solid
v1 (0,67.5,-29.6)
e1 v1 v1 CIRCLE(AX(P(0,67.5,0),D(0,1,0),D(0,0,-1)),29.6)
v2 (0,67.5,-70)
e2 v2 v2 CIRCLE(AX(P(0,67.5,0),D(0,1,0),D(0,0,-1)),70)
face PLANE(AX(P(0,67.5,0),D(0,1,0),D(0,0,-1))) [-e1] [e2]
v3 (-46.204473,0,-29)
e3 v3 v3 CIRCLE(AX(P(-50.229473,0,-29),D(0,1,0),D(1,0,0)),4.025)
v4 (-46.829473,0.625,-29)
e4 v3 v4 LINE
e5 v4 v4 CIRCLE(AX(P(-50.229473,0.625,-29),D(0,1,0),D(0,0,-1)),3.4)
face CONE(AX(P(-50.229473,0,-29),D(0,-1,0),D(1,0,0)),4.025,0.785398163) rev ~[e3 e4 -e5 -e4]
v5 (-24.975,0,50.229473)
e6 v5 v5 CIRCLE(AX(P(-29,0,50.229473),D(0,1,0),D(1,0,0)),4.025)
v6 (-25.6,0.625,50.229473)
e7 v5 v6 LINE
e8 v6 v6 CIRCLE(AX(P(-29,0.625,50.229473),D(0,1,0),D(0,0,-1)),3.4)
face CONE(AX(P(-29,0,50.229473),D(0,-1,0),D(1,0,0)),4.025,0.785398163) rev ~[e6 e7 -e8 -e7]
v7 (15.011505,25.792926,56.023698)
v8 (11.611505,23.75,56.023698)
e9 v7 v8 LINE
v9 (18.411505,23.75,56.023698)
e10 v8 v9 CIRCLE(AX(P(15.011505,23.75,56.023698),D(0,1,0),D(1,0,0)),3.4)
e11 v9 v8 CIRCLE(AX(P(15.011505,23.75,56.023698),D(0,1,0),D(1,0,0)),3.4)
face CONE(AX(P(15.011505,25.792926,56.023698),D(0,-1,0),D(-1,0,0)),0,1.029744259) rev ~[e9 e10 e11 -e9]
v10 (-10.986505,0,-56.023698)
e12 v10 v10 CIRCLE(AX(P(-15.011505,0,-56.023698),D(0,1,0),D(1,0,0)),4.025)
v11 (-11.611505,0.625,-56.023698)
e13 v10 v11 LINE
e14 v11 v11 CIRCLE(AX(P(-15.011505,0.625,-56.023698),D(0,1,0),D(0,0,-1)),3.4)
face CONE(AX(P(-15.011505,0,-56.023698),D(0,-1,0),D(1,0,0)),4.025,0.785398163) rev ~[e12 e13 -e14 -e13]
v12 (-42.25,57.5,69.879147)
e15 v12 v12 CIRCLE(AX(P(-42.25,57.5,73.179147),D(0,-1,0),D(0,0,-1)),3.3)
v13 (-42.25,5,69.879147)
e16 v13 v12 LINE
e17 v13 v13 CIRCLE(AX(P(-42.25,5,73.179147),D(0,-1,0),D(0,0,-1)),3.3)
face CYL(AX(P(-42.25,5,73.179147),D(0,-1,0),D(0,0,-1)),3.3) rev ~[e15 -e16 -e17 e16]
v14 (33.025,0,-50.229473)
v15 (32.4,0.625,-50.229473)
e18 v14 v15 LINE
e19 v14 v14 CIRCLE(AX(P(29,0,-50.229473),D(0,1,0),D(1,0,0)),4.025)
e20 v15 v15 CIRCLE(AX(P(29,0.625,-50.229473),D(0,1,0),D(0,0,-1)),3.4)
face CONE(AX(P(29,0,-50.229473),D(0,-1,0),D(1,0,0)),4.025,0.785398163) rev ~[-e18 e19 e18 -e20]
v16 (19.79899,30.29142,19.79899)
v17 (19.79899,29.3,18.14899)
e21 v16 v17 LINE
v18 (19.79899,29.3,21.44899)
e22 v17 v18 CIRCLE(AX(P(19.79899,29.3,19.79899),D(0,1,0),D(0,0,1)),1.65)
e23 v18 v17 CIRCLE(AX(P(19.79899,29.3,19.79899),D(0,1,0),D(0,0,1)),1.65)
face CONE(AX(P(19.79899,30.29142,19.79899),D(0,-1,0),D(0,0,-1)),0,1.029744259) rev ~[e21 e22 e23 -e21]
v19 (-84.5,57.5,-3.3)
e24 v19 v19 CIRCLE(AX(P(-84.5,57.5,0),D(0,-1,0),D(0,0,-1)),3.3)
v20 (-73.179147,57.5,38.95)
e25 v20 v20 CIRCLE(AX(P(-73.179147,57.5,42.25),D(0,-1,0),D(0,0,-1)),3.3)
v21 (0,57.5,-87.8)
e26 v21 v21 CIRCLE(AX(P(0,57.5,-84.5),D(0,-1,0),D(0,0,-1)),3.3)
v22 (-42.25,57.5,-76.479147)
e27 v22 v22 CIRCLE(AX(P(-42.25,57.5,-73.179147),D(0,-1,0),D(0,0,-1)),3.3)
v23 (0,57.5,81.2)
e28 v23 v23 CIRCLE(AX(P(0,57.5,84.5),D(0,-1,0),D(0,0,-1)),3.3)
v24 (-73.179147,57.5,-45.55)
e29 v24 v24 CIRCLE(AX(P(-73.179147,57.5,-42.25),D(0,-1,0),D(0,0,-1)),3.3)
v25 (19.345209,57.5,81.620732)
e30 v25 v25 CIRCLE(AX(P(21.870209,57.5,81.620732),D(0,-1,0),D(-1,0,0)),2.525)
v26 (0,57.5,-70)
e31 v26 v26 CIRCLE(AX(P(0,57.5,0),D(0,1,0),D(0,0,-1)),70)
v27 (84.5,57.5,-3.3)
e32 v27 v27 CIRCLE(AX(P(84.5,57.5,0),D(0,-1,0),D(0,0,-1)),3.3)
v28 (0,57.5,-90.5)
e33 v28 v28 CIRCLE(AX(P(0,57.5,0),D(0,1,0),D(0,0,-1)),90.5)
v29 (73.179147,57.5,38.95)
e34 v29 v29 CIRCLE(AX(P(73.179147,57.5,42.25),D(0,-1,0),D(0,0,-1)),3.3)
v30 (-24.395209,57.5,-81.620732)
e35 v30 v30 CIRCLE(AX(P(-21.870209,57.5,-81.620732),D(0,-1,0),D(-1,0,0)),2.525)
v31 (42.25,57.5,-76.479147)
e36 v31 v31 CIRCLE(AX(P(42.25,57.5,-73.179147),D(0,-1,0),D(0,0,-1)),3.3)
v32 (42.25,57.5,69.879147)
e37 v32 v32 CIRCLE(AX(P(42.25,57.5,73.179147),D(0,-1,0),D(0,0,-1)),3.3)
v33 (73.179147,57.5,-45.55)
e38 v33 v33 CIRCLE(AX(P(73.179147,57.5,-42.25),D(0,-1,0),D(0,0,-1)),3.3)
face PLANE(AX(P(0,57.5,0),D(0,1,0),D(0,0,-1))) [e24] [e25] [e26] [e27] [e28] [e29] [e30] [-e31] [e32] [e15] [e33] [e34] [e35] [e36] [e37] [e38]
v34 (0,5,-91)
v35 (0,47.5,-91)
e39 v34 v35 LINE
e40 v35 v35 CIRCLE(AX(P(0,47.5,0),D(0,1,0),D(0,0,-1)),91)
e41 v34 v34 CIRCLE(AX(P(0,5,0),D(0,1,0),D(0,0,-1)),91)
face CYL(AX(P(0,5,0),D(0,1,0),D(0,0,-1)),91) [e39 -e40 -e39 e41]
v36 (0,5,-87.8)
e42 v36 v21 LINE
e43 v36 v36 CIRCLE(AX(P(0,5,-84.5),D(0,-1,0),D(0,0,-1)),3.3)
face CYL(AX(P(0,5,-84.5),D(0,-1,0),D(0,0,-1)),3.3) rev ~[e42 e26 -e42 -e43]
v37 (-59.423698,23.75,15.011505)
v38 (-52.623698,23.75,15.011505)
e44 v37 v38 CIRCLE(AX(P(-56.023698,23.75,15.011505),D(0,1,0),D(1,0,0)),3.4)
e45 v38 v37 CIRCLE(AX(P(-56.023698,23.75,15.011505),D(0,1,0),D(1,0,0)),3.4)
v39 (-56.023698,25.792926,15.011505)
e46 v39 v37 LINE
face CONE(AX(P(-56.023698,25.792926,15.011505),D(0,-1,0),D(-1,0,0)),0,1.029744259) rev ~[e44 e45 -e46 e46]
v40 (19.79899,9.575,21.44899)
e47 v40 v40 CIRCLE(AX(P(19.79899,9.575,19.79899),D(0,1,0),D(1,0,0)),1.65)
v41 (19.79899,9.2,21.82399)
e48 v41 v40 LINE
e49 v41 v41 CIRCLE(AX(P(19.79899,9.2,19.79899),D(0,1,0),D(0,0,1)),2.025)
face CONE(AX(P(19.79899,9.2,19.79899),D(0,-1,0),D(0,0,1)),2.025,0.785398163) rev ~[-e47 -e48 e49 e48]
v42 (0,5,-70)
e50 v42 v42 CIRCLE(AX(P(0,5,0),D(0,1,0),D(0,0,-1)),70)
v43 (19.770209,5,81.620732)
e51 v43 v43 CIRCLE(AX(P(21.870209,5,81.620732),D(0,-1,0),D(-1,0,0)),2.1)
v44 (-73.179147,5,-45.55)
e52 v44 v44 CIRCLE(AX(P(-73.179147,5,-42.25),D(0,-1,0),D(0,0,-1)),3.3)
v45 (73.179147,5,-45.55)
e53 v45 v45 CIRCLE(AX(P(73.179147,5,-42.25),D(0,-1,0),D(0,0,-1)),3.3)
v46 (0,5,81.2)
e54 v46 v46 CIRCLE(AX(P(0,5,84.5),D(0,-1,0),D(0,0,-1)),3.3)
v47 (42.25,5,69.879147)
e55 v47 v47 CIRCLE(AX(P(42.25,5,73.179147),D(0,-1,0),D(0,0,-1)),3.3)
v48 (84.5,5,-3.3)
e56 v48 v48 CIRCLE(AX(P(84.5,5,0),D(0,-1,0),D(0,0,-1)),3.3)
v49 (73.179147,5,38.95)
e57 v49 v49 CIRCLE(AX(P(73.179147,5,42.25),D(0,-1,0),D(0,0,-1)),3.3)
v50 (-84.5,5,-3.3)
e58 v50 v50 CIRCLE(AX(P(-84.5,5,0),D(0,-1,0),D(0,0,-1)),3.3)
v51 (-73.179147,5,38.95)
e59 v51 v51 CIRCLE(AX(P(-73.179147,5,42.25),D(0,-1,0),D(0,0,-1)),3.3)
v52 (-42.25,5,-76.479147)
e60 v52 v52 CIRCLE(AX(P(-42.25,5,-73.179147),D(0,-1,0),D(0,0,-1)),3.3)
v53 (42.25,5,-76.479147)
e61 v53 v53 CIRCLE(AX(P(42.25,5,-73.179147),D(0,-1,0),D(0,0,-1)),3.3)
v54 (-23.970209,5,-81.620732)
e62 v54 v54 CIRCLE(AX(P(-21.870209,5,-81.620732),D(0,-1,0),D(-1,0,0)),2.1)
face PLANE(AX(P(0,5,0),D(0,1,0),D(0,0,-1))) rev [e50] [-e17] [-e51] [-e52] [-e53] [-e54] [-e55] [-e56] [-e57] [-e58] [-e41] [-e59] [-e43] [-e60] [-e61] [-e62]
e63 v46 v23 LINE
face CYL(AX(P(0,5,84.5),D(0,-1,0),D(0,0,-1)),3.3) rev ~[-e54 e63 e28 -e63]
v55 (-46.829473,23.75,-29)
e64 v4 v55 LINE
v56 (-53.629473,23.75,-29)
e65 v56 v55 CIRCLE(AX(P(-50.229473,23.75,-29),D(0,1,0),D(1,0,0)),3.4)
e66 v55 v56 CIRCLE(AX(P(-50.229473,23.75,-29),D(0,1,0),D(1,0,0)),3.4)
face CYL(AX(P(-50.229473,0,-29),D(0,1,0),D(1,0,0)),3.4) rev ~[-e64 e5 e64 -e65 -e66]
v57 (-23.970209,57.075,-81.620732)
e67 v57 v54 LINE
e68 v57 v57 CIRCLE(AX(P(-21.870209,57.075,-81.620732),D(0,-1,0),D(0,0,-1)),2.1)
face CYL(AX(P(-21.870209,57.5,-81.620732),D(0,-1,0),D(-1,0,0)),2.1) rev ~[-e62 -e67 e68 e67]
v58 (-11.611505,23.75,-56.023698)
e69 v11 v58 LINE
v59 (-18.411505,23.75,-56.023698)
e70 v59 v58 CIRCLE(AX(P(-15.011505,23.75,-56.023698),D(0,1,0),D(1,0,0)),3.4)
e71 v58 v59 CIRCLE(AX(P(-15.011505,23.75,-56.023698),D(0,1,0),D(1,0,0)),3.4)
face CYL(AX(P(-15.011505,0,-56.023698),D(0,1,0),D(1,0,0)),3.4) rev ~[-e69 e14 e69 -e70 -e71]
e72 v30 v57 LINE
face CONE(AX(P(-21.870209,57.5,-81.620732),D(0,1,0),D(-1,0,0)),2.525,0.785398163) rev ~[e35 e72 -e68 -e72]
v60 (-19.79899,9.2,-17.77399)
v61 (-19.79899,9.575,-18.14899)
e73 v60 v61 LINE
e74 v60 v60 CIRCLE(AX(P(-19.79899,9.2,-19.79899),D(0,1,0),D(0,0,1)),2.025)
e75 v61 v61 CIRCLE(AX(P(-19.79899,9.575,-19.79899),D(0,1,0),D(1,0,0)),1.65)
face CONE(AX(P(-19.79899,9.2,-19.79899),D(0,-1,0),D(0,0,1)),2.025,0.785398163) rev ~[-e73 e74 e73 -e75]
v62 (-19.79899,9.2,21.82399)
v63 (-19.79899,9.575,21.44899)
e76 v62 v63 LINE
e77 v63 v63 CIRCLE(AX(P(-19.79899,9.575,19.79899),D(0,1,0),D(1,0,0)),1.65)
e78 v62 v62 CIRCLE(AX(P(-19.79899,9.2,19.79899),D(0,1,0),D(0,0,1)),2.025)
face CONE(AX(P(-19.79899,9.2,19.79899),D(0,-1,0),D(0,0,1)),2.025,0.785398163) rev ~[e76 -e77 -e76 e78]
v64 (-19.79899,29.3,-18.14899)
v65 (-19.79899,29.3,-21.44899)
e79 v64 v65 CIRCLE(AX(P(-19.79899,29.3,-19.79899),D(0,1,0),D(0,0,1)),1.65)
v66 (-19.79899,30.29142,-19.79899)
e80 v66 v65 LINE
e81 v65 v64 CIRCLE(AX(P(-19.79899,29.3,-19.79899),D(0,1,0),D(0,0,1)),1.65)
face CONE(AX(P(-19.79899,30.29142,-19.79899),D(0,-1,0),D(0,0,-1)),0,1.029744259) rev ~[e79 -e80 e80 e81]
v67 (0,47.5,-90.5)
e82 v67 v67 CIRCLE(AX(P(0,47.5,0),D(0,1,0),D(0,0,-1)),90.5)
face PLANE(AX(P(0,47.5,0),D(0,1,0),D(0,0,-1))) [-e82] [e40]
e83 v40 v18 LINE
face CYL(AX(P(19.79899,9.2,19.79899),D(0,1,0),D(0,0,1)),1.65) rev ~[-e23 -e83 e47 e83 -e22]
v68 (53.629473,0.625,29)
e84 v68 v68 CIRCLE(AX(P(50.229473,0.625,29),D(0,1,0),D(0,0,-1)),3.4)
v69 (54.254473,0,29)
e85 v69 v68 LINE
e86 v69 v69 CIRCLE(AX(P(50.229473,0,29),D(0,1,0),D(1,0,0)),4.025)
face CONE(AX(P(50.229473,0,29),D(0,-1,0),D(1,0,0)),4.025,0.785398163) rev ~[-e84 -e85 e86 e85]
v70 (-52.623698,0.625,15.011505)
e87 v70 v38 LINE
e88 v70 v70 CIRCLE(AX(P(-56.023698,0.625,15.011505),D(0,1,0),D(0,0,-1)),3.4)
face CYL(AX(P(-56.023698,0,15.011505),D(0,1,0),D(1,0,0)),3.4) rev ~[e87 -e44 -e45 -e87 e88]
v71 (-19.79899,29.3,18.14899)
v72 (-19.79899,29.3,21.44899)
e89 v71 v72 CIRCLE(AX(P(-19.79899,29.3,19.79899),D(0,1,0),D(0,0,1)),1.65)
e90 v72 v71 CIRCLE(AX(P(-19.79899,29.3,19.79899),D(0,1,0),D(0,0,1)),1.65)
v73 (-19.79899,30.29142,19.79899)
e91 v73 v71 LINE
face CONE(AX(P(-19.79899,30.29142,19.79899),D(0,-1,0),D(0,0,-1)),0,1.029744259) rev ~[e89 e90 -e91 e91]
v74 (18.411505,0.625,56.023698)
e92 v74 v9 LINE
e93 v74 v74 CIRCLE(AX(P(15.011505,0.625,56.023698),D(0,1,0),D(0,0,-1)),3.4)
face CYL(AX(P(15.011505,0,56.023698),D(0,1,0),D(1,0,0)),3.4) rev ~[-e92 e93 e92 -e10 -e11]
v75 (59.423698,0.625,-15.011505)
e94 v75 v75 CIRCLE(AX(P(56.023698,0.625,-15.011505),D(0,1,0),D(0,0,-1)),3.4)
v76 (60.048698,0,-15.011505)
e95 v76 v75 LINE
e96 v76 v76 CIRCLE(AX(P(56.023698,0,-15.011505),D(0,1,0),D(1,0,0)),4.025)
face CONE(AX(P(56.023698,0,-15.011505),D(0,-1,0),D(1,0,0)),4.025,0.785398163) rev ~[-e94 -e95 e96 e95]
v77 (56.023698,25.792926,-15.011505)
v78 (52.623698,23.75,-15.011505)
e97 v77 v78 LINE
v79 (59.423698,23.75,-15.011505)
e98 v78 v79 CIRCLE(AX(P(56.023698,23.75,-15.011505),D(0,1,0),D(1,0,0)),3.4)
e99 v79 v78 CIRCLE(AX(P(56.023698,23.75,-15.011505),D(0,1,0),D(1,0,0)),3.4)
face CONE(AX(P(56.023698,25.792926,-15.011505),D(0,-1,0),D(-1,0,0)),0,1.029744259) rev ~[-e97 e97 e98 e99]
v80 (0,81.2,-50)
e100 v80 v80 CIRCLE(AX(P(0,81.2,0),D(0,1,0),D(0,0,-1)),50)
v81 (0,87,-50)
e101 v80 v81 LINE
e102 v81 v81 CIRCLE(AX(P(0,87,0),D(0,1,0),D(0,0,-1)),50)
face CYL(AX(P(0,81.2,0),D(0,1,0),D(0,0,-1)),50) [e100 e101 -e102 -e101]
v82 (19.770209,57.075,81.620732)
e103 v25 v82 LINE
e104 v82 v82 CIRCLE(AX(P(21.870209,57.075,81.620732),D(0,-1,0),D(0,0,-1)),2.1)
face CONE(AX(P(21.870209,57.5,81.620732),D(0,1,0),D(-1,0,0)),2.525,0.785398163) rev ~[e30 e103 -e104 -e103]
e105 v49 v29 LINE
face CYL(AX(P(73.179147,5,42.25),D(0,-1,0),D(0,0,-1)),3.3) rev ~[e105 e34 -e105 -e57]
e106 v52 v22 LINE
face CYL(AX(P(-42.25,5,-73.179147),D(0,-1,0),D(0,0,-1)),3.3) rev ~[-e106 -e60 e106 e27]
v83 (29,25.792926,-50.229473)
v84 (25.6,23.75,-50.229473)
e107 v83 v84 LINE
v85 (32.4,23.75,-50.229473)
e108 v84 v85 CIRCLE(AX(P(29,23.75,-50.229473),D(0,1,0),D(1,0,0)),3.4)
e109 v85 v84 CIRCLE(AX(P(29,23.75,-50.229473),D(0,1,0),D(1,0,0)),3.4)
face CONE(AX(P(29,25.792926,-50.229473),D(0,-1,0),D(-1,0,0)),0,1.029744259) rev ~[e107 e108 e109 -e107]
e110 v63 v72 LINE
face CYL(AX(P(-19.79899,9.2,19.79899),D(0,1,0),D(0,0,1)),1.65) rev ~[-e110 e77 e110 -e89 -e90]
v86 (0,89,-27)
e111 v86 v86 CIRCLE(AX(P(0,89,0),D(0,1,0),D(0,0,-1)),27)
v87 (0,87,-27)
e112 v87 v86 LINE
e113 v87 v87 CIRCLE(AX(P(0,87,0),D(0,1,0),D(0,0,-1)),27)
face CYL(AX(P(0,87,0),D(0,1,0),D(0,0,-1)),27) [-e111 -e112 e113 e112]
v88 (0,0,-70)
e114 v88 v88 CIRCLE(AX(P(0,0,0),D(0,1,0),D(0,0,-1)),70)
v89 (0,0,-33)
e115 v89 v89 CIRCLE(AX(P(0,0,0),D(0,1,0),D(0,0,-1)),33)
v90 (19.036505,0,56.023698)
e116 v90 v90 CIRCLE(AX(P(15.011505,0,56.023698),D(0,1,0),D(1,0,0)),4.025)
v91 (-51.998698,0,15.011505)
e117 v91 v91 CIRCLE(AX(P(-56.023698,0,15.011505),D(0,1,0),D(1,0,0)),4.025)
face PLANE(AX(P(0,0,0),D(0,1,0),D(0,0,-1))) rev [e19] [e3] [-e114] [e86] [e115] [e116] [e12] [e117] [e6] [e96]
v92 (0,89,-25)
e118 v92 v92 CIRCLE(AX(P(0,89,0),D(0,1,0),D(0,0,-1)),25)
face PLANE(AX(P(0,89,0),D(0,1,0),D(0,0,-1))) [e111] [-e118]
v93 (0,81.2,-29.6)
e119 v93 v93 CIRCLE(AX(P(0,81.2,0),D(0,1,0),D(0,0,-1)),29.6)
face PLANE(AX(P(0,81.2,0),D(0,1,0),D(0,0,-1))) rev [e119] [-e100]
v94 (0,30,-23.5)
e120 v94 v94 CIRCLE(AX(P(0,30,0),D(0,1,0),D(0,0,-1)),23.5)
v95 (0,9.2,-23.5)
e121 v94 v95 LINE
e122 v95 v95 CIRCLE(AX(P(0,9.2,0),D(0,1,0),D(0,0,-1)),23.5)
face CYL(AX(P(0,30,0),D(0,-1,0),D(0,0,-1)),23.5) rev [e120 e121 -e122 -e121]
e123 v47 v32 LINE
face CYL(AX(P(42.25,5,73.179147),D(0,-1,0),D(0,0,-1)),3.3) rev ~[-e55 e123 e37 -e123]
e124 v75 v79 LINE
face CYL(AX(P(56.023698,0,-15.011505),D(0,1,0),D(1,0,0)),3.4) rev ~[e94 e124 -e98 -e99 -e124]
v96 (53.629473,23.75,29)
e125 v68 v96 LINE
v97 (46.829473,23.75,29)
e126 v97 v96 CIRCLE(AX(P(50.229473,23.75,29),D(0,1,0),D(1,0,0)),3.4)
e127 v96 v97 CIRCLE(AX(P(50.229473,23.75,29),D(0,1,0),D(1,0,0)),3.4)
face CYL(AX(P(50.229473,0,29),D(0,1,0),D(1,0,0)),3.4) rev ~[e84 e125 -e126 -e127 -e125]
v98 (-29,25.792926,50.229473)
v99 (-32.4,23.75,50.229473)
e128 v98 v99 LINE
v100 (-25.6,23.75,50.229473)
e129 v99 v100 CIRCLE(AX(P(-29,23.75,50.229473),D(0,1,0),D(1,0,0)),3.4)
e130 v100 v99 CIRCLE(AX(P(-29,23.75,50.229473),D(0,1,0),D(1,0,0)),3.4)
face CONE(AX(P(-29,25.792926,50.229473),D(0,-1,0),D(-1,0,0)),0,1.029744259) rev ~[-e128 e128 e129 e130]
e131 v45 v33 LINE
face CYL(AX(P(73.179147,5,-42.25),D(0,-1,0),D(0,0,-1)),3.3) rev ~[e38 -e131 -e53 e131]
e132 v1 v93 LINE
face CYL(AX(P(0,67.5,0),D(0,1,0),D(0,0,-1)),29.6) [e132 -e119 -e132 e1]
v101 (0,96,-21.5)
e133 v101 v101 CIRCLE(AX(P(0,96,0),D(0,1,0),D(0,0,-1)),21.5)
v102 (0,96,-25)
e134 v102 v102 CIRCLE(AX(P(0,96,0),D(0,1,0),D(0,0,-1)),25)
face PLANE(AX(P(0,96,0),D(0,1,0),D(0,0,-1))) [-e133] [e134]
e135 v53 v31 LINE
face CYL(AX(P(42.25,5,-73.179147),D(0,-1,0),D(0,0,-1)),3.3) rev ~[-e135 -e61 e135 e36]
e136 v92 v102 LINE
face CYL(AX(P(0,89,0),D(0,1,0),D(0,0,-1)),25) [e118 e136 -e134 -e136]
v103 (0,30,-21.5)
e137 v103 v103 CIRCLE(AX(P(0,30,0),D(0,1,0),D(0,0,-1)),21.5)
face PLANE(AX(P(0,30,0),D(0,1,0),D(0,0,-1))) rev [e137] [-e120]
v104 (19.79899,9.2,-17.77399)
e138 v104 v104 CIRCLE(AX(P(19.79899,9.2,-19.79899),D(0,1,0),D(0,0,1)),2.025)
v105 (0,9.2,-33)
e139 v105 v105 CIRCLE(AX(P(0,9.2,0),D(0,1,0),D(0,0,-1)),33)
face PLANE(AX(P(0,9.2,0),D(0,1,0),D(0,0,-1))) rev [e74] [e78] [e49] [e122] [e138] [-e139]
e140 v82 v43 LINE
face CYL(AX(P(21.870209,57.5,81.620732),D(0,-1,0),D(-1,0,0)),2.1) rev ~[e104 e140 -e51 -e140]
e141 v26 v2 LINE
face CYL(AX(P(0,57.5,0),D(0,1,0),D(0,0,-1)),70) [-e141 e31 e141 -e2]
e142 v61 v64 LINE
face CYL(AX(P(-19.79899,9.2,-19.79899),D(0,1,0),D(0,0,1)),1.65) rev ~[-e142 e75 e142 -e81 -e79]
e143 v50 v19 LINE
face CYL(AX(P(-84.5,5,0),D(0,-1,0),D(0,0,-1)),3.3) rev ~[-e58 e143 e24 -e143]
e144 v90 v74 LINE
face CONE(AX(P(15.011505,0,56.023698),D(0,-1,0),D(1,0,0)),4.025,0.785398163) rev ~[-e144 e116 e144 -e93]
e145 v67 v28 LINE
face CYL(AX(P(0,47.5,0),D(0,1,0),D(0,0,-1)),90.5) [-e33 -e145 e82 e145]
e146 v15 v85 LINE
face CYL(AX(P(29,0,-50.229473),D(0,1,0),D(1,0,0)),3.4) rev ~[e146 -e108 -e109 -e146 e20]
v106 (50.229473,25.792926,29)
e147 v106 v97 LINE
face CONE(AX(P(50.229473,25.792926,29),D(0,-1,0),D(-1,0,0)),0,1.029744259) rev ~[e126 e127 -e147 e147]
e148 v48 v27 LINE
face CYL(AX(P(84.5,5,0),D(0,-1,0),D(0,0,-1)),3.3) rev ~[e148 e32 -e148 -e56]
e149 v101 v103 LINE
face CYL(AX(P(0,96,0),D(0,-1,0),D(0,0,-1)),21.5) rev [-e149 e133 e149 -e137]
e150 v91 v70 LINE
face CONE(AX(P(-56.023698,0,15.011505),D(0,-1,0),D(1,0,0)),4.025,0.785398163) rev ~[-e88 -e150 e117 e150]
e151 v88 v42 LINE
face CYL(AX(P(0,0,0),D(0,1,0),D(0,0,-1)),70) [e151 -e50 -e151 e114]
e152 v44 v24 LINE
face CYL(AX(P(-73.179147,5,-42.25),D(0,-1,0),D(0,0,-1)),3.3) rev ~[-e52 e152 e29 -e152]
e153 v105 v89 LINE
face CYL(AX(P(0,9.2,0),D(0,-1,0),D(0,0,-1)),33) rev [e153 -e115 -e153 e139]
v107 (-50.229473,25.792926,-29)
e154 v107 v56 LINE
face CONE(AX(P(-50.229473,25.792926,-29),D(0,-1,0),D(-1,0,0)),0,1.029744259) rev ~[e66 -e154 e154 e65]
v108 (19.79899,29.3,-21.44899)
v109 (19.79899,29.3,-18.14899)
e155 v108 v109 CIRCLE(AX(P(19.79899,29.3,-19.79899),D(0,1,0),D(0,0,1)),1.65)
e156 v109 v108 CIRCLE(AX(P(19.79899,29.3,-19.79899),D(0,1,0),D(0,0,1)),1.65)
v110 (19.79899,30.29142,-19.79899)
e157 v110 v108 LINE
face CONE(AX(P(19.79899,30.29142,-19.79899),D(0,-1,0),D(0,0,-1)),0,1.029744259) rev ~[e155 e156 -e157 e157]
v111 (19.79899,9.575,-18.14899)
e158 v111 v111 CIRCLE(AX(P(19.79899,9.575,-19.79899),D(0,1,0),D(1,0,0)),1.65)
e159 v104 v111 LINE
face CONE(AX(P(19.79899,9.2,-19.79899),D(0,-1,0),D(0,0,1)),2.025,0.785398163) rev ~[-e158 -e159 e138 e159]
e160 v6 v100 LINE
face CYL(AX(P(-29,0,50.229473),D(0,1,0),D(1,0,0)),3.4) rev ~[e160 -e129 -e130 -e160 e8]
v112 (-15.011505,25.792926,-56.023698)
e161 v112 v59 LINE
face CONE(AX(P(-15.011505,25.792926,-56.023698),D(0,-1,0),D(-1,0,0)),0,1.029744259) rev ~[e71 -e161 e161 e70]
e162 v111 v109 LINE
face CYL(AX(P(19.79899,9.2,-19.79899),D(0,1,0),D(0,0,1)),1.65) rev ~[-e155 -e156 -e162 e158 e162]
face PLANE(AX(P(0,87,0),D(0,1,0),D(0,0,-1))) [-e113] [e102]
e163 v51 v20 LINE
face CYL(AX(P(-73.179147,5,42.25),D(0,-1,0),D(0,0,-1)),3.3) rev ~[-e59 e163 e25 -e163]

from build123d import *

# Parameters (mm, degrees)
SKETCH3_R                       = 3.3
CUT_EXTRUDE2_DEPTH              = 158.616623489
M8_TAPPED_HOLE1_D               = 6.8
M8_TAPPED_HOLE1_DEPTH           = 23.75
M8_TAPPED_HOLE1_CSINK_D         = 8.05
M8_TAPPED_HOLE1_CSINK_ANGLE     = 90
M8_TAPPED_HOLE1_TIP             = 2.042926105
M5X0_8_TAPPED_HOLE2_D           = 4.2
M5X0_8_TAPPED_HOLE2_CSINK_D     = 5.05
M5X0_8_TAPPED_HOLE2_CSINK_ANGLE = 90
M4_TAPPED_HOLE1_D               = 3.3
M4_TAPPED_HOLE1_DEPTH           = 20.1
M4_TAPPED_HOLE1_CSINK_D         = 4.05
M4_TAPPED_HOLE1_CSINK_ANGLE     = 90
M4_TAPPED_HOLE1_TIP             = 0.991420021


with BuildPart() as part:
    # Sketch1 → Revolve1 (revolve)
    with BuildSketch(Plane(origin=(0, 0, 0), x_dir=(0, 0, -1), z_dir=(1, 0, 0)), mode=Mode.PRIVATE) as revolve1_sk:
        Polygon((-33, 0), (-70, 0), (-70, 5), (-91, 5), (-91, 47.5), (-90.5, 47.5), (-90.5, 57.5), (-70, 57.5), (-70, 67.5), (-29.6, 67.5), (-29.6, 81.2), (-50, 81.2), (-50, 87), (-27, 87), (-27, 89), (-25, 89), (-25, 96), (-21.5, 96), (-21.5, 30), (-23.5, 30), (-23.5, 9.2), (-33, 9.2), align=None)
    revolve(revolve1_sk.sketch.rotate(Axis((0, -94.12, 0), (0, 1, 0)), 180), axis=Axis((0, -94.12, 0), (0, 1, 0)))

    # Sketch3 → Cut-Extrude2 (cut, through all)
    with BuildSketch(Plane.XZ.offset(-5)):
        with Locations(Location((-84.5, 0, 0), (0, 0, 270))):
            Circle(SKETCH3_R)
        with Locations(Location((-73.17914662, 42.25, 0), (0, 0, 270))):
            Circle(SKETCH3_R)
        with Locations(Location((-42.25, 73.17914662, 0), (0, 0, 270))):
            Circle(SKETCH3_R)
        with Locations(Location((0, 84.5, 0), (0, 0, 270))):
            Circle(SKETCH3_R)
        with Locations(Location((42.25, 73.17914662, 0), (0, 0, 270))):
            Circle(SKETCH3_R)
        with Locations(Location((73.17914662, 42.25, 0), (0, 0, 270))):
            Circle(SKETCH3_R)
        with Locations(Location((84.5, 0, 0), (0, 0, 270))):
            Circle(SKETCH3_R)
        with Locations(Location((73.17914662, -42.25, 0), (0, 0, 270))):
            Circle(SKETCH3_R)
        with Locations(Location((42.25, -73.17914662, 0), (0, 0, 270))):
            Circle(SKETCH3_R)
        with Locations(Location((0, -84.5, 0), (0, 0, 270))):
            Circle(SKETCH3_R)
        with Locations(Location((-42.25, -73.17914662, 0), (0, 0, 270))):
            Circle(SKETCH3_R)
        with Locations(Location((-73.17914662, -42.25, 0), (0, 0, 270))):
            Circle(SKETCH3_R)
    extrude(amount=-CUT_EXTRUDE2_DEPTH, mode=Mode.SUBTRACT)

    # M8 Tapped Hole1
    with Locations(Plane(origin=(0, 0, 0), x_dir=(-1, 0, 0), z_dir=(0, -1, 0))):
        with Locations((15.011504616, 56.023697925), (-29, 50.229473419), (-56.023697925, 15.011504616), (-50.229473419, -29), (-15.011504616, -56.023697925), (29, -50.229473419), (56.023697925, -15.011504616), (50.229473419, 29)):
            CounterSinkHole(M8_TAPPED_HOLE1_D / 2, M8_TAPPED_HOLE1_CSINK_D / 2, depth=M8_TAPPED_HOLE1_DEPTH, counter_sink_angle=M8_TAPPED_HOLE1_CSINK_ANGLE)
            with Locations((0, 0, -(M8_TAPPED_HOLE1_DEPTH + M8_TAPPED_HOLE1_TIP / 2))):  # 118° drill point
                Cone(0, M8_TAPPED_HOLE1_D / 2, M8_TAPPED_HOLE1_TIP, mode=Mode.SUBTRACT)

    # M5x0.8 Tapped Hole2 (through all)
    with Locations(Plane(origin=(0, 57.5, 0), x_dir=(1, 0, 0), z_dir=(0, 1, 0))):
        with Locations((-21.870209311, 81.620732321), (21.870209311, -81.620732321)):
            CounterSinkHole(M5X0_8_TAPPED_HOLE2_D / 2, M5X0_8_TAPPED_HOLE2_CSINK_D / 2, counter_sink_angle=M5X0_8_TAPPED_HOLE2_CSINK_ANGLE)

    # M4 Tapped Hole1
    with Locations(Plane(origin=(-19.798989873, 9.2, 19.798989873), x_dir=(0, 0, -1), z_dir=(0, -1, 0))):
        with Locations((0, 0), (0, 39.597979746), (39.597979746, 39.597979746), (39.597979746, 0)):
            CounterSinkHole(M4_TAPPED_HOLE1_D / 2, M4_TAPPED_HOLE1_CSINK_D / 2, depth=M4_TAPPED_HOLE1_DEPTH, counter_sink_angle=M4_TAPPED_HOLE1_CSINK_ANGLE)
            with Locations((0, 0, -(M4_TAPPED_HOLE1_DEPTH + M4_TAPPED_HOLE1_TIP / 2))):  # 118° drill point
                Cone(0, M4_TAPPED_HOLE1_D / 2, M4_TAPPED_HOLE1_TIP, mode=Mode.SUBTRACT)


solid = part.part
